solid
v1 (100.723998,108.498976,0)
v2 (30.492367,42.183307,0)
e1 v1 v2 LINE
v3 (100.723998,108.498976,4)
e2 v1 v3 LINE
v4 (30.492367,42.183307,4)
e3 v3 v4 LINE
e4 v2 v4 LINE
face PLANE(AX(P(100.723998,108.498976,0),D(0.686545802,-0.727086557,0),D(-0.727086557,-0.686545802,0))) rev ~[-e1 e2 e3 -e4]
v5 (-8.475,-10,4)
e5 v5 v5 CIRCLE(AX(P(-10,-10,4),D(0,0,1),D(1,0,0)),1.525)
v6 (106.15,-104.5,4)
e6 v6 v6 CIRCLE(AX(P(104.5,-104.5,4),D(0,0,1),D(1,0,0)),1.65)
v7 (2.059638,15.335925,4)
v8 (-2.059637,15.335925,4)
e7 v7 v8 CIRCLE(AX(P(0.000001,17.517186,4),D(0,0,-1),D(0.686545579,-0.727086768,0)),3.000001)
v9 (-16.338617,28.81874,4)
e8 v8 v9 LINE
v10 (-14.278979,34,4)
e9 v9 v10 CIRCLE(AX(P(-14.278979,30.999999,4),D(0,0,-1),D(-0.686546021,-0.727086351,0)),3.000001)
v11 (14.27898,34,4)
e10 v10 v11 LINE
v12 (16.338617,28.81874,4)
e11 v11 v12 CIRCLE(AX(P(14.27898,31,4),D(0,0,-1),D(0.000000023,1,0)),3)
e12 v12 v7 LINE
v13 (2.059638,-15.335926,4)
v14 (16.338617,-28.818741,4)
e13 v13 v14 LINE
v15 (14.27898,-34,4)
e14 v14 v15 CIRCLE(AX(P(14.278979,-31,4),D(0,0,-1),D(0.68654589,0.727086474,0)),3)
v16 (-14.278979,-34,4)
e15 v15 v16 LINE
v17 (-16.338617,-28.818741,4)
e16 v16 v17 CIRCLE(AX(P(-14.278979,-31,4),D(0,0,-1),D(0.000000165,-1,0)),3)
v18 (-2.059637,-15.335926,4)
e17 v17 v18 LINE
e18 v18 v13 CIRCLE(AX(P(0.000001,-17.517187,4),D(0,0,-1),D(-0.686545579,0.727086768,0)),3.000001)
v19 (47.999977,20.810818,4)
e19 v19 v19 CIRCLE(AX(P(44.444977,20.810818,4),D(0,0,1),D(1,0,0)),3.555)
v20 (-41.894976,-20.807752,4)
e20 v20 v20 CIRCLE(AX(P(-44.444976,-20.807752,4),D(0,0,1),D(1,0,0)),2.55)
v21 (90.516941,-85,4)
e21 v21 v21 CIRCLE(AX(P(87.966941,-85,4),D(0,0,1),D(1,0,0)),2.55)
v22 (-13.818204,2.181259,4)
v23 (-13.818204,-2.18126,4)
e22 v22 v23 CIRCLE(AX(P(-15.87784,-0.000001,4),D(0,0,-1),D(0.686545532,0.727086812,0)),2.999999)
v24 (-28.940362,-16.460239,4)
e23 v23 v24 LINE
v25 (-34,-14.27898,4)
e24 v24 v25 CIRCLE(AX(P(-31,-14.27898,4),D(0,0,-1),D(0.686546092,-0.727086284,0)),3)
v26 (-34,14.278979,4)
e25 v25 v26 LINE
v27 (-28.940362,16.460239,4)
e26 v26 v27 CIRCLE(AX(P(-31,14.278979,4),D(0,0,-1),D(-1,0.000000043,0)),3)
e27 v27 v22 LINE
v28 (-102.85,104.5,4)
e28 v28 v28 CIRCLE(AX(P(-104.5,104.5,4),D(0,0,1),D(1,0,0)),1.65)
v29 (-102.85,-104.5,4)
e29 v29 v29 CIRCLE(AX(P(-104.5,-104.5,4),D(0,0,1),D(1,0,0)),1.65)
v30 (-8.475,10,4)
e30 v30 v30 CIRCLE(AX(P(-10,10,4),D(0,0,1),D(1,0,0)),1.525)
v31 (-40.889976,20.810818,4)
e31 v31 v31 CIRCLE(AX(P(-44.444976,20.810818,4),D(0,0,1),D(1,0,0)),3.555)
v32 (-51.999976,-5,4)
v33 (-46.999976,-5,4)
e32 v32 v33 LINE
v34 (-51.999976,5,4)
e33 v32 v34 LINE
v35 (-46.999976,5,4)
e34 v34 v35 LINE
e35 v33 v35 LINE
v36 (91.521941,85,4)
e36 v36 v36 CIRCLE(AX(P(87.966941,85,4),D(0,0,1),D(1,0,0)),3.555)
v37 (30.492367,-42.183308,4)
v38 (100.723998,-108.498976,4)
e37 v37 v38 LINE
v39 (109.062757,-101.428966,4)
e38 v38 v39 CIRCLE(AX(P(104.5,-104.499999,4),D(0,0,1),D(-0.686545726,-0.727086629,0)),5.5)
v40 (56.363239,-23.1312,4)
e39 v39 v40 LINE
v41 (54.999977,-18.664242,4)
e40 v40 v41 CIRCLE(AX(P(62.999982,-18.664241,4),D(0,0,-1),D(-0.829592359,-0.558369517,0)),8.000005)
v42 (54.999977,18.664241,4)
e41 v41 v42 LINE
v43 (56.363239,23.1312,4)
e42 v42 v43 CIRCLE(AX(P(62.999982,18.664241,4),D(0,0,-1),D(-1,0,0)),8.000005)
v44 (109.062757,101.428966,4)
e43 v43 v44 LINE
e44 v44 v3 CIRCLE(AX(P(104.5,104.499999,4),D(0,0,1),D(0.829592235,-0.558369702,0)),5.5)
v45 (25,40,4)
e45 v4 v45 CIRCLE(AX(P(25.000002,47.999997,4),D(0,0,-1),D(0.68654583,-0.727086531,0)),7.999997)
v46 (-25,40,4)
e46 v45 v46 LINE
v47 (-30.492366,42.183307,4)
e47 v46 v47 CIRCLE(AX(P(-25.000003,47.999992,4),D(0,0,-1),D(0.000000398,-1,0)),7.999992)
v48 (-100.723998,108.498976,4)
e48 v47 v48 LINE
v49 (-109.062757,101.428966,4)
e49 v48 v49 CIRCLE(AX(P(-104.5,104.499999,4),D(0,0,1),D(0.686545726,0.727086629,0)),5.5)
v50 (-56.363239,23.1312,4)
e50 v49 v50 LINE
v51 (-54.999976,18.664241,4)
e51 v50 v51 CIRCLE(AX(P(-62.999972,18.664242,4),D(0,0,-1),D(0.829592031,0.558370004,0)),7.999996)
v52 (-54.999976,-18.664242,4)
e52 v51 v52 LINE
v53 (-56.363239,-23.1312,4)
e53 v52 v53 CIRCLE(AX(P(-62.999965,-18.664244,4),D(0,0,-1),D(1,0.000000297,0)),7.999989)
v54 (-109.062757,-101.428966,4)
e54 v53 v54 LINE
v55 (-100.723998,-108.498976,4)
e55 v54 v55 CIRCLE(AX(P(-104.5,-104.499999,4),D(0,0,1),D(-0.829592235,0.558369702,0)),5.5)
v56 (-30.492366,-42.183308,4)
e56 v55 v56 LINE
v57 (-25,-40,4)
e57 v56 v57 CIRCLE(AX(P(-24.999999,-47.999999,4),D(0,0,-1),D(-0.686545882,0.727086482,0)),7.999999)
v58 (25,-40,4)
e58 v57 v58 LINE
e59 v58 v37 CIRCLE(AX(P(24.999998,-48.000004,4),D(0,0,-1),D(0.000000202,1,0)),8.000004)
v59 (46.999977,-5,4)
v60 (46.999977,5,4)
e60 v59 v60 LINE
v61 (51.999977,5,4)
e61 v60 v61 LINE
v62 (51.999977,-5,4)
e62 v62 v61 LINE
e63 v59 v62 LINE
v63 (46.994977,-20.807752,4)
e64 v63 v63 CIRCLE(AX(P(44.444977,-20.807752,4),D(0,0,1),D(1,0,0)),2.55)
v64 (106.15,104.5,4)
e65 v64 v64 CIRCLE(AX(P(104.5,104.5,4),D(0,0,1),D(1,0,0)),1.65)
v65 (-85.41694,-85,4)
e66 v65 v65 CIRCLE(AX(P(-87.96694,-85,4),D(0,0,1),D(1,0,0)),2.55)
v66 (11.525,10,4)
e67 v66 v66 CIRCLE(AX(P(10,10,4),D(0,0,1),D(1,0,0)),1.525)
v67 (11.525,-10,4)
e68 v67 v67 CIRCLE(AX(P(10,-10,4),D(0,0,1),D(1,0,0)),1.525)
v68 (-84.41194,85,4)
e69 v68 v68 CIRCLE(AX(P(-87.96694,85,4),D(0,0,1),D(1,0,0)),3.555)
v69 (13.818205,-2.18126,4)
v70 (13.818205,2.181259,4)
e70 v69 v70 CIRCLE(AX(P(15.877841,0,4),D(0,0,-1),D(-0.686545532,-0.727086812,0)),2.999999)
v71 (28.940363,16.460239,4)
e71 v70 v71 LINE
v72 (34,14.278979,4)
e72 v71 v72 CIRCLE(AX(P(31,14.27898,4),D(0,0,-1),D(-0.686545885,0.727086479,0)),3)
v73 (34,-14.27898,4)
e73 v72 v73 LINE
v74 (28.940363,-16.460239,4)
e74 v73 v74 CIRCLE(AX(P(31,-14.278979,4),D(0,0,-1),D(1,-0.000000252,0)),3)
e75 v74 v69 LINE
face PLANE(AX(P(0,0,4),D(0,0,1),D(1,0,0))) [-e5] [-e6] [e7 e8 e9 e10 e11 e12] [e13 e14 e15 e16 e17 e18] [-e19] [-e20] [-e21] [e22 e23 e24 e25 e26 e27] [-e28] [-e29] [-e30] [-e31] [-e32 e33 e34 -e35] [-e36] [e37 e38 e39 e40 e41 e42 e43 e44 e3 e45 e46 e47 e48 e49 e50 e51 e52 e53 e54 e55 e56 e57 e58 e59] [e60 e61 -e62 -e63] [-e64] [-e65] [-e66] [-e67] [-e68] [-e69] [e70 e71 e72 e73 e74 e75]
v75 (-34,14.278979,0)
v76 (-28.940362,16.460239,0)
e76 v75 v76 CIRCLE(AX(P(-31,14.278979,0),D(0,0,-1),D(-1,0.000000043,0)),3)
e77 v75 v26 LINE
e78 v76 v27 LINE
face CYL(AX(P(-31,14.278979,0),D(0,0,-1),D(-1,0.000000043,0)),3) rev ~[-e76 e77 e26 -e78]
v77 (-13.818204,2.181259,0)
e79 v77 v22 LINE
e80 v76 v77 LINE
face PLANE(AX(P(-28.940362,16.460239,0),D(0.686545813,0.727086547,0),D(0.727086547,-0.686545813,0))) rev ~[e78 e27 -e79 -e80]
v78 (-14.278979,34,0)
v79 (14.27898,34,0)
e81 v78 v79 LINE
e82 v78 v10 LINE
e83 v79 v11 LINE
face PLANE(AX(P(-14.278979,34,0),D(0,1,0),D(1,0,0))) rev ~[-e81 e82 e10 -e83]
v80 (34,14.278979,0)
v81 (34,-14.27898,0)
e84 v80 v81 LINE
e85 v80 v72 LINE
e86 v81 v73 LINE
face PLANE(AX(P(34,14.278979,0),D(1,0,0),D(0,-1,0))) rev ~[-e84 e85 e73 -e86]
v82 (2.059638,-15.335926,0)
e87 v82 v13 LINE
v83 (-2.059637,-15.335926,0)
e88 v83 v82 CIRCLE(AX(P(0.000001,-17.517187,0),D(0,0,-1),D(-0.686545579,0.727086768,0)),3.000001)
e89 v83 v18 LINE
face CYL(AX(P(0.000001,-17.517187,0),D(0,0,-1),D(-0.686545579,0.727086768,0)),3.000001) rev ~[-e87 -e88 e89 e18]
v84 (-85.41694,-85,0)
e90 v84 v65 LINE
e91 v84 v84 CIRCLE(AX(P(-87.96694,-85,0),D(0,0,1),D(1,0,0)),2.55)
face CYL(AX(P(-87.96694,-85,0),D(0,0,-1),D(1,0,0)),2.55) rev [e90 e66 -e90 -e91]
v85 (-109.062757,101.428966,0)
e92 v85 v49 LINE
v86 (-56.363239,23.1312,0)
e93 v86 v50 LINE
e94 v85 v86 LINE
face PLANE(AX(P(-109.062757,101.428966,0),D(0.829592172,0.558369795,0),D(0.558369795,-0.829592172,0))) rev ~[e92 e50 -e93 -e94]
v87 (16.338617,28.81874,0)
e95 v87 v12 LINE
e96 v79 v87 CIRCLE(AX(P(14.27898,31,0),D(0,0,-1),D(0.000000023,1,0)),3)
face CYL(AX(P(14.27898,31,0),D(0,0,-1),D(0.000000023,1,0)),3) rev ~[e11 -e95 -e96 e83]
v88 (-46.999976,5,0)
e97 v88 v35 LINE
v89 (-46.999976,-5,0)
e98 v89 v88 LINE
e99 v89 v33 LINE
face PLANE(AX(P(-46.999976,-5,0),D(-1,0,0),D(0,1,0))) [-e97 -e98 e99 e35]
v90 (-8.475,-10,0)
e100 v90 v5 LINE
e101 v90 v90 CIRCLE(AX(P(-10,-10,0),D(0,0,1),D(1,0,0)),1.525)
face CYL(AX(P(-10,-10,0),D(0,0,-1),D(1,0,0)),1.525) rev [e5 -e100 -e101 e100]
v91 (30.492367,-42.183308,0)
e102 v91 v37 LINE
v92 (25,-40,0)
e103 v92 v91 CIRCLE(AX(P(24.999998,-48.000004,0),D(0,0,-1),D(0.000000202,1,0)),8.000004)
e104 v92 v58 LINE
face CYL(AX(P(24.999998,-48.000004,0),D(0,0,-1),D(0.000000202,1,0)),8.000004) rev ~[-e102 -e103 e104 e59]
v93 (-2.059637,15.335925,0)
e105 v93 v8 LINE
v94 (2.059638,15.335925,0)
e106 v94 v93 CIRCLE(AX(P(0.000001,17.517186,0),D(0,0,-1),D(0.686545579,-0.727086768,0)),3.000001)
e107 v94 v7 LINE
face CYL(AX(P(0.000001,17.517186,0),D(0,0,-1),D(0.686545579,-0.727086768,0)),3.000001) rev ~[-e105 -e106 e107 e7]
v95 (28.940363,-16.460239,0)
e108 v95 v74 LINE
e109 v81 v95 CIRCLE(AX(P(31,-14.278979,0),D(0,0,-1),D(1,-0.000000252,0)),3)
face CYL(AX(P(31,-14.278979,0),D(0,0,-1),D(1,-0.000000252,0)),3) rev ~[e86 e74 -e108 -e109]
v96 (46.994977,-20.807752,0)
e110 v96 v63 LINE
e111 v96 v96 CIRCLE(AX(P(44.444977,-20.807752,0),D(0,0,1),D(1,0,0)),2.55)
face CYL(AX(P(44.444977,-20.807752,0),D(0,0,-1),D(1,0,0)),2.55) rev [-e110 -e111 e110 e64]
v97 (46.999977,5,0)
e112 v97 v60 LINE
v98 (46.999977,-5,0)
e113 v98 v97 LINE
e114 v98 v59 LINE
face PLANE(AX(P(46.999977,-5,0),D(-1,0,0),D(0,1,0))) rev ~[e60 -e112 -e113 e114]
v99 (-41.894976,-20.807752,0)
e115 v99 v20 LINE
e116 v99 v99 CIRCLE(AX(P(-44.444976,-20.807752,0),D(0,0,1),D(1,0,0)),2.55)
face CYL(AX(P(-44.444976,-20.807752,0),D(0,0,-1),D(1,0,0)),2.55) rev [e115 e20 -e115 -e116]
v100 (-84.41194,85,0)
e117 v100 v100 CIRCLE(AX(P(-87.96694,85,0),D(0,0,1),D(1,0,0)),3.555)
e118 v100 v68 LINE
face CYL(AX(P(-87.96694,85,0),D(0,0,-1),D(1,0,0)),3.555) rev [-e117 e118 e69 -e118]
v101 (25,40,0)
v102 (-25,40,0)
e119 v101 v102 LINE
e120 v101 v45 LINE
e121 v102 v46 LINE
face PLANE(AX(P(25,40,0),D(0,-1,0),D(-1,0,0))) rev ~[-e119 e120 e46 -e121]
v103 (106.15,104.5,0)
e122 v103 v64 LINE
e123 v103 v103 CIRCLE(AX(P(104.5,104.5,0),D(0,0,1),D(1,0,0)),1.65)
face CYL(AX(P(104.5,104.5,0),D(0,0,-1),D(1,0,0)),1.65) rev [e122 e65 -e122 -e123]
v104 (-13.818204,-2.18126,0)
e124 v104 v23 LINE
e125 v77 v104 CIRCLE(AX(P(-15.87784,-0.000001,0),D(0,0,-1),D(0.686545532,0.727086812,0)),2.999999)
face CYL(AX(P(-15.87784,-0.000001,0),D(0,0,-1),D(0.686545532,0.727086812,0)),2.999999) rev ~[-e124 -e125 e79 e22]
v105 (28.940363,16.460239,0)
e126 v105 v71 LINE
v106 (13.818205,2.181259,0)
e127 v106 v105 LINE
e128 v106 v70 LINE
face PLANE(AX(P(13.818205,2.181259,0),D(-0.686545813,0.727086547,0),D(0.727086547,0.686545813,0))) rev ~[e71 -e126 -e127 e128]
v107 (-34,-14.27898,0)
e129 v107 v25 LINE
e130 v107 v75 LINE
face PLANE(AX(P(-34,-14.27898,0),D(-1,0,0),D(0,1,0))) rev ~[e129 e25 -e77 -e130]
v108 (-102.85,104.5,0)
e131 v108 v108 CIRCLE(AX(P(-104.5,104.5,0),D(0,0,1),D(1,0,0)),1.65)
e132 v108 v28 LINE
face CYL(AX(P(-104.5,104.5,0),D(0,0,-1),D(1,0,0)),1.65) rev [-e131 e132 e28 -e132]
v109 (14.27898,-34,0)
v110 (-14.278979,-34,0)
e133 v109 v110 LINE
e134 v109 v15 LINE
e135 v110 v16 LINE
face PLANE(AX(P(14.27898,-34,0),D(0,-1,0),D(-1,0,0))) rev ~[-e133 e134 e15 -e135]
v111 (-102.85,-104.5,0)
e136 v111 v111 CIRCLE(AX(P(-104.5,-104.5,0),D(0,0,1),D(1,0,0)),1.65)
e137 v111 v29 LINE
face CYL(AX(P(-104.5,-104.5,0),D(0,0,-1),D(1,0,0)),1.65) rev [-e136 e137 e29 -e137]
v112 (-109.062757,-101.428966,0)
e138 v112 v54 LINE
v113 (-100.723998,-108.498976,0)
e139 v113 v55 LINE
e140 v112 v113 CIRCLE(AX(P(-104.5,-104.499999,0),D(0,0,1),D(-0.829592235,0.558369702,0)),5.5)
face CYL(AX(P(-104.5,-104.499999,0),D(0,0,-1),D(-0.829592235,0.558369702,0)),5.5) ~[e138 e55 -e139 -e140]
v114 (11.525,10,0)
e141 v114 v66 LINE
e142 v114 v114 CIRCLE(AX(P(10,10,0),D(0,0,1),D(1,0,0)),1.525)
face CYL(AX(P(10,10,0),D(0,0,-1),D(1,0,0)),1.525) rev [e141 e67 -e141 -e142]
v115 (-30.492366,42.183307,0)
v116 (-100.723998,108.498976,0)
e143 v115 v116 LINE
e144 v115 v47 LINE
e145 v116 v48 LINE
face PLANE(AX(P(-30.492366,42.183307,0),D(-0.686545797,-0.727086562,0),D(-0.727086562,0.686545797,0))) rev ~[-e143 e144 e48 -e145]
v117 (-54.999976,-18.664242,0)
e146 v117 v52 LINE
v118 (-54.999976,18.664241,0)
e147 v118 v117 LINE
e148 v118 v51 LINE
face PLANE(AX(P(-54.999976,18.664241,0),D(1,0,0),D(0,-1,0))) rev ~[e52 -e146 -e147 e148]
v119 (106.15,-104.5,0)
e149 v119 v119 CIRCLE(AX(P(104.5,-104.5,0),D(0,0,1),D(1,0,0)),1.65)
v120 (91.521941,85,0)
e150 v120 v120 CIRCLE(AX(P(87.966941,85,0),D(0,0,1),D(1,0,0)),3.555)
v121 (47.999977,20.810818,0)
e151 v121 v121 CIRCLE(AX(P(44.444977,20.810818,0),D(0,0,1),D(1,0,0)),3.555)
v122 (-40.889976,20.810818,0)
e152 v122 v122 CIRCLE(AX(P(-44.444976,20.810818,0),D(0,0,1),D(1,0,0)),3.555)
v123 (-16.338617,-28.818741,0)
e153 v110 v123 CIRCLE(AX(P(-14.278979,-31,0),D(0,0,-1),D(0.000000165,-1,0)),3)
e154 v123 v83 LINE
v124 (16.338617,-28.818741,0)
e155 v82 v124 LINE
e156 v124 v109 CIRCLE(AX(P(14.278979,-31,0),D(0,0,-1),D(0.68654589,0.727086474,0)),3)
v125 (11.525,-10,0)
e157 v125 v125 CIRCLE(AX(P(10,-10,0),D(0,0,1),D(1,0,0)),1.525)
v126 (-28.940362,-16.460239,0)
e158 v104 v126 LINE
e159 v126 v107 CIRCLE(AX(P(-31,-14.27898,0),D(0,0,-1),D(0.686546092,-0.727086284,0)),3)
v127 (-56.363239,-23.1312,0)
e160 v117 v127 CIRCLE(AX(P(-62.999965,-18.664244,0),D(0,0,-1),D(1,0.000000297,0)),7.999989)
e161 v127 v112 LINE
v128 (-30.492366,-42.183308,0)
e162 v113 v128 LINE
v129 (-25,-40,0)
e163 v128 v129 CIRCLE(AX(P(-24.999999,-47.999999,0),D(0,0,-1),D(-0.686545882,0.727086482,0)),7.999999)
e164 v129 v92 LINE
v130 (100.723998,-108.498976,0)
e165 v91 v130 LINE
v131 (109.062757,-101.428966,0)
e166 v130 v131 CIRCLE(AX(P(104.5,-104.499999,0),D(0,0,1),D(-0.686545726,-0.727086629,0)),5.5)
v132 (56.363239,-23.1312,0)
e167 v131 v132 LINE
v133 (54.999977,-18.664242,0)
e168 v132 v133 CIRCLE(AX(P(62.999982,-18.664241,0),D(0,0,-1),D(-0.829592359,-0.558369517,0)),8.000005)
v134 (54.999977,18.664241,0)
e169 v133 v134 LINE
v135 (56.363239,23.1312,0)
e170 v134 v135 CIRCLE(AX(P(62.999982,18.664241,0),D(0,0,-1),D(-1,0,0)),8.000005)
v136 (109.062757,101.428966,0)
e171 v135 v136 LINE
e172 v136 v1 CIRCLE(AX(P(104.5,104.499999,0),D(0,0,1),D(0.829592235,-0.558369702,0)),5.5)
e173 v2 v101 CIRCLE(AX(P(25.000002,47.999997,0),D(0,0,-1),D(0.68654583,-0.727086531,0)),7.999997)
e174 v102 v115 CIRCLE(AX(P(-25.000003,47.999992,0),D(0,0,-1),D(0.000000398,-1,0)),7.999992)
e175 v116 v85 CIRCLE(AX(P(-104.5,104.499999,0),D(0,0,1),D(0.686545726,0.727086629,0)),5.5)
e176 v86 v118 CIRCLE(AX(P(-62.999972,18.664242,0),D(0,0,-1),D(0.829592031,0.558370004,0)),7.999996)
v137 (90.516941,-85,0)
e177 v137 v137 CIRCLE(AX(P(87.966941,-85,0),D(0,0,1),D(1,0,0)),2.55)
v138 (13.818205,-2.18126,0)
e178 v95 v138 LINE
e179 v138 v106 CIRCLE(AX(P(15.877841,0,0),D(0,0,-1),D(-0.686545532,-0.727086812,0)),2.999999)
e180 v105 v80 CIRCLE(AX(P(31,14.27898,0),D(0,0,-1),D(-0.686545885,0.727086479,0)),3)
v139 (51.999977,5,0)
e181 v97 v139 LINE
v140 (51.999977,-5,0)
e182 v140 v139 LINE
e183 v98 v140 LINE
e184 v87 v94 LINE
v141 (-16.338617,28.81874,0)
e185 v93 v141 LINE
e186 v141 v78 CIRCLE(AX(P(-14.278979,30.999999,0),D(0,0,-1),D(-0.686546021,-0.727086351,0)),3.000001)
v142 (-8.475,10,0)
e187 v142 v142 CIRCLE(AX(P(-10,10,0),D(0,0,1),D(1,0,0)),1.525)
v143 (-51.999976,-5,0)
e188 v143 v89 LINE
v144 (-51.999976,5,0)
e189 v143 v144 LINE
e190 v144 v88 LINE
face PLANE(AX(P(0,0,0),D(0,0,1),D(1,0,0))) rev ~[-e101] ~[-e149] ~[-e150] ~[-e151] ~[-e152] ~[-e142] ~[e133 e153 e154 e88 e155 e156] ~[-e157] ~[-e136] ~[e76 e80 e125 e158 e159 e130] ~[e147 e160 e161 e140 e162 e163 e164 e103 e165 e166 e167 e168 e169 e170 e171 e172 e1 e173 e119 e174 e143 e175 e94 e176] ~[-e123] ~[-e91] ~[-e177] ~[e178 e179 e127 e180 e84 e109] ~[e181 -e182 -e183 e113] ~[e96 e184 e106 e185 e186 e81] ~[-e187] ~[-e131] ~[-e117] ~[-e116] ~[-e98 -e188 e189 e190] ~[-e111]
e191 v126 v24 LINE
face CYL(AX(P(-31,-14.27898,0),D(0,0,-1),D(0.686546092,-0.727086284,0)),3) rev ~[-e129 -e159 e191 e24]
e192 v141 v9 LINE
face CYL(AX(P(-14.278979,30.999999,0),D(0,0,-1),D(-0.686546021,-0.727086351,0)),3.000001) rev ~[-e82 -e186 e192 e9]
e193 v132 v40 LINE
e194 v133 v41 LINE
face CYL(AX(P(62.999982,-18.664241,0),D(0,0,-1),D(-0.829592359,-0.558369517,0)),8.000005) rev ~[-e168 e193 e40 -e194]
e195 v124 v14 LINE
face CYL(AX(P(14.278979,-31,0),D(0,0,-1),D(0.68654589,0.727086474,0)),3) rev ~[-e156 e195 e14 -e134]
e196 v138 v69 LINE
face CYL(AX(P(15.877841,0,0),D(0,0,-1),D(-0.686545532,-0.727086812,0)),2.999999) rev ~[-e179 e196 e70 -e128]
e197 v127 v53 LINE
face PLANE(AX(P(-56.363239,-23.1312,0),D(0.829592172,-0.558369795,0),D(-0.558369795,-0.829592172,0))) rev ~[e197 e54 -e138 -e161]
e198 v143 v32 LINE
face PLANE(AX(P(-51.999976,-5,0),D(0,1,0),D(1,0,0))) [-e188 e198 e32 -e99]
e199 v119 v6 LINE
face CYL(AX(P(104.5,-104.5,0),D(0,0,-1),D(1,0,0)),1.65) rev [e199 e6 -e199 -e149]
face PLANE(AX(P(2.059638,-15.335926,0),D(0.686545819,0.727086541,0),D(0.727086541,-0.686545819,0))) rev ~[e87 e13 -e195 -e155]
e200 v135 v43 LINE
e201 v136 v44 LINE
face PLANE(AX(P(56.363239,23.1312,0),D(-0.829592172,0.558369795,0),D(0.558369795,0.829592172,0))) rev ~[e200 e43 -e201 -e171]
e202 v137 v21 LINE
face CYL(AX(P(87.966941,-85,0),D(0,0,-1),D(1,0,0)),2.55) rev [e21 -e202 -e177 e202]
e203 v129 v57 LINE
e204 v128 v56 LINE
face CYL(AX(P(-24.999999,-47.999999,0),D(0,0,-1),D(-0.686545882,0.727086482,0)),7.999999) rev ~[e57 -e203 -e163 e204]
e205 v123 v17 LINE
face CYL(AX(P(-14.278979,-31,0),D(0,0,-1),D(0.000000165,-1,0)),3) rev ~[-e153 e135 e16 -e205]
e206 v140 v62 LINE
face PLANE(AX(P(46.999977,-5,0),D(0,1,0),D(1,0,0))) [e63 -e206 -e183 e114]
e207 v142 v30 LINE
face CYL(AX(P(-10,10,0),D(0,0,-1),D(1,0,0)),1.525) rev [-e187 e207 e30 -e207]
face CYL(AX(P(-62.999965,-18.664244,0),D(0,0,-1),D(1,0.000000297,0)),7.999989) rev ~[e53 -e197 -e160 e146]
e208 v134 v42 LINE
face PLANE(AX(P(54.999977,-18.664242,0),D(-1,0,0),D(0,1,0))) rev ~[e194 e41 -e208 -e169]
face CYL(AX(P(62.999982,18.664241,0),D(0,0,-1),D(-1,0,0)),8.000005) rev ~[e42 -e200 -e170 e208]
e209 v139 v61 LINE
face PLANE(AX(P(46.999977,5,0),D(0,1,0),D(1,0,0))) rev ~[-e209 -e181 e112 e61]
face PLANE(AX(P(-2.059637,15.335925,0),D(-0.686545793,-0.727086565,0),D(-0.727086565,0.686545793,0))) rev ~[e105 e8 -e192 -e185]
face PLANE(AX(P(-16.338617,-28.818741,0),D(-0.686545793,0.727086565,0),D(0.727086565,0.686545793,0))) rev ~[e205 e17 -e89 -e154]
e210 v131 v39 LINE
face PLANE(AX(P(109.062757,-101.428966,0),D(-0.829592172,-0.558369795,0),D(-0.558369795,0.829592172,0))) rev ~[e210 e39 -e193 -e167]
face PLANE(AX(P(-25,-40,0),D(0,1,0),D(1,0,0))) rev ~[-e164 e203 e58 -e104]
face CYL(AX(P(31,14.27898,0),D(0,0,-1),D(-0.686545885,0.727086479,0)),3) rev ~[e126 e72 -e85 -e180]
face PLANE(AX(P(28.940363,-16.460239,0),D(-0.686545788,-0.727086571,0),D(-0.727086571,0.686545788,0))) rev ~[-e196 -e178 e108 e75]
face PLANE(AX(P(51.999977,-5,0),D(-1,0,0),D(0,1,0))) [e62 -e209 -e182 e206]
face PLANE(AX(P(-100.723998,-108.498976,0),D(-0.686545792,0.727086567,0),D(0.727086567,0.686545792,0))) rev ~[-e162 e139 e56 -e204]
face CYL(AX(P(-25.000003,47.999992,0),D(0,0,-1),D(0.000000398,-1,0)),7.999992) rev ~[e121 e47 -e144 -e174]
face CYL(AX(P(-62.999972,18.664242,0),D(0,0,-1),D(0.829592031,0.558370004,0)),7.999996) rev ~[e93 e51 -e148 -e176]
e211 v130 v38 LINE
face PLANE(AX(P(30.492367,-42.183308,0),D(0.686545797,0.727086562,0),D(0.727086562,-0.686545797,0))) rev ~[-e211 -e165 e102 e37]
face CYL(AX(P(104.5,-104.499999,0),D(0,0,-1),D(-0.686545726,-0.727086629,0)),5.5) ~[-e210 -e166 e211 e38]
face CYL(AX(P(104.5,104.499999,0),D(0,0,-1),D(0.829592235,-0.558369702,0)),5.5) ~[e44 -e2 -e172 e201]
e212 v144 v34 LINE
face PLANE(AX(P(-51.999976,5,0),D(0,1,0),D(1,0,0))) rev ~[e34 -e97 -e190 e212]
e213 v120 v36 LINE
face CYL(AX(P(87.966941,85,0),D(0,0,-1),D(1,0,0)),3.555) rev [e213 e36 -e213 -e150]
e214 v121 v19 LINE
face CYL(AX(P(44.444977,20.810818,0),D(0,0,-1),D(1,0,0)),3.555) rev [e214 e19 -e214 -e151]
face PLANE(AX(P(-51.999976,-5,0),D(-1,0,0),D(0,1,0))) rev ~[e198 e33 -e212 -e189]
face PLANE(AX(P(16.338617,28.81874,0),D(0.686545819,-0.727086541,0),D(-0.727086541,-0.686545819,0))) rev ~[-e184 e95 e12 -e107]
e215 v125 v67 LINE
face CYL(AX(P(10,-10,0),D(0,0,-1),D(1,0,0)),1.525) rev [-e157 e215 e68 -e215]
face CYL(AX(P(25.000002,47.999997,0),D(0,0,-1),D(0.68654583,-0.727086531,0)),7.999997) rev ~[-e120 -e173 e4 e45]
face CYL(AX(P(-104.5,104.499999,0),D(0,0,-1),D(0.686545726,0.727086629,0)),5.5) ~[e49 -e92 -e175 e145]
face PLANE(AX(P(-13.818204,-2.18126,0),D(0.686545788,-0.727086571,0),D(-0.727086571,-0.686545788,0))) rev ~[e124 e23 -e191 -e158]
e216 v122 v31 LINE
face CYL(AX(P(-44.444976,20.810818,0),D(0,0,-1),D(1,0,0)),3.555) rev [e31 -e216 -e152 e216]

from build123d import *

# Parameters (mm, degrees)
F0_R     = 1.65
F0_R_2   = 2.55
F0_R_3   = 1.525
F0_W     = 5
F0_H     = 10
F0_R_4   = 3.555
F1_DEPTH = 4


with BuildPart() as f1:
    # F0 (on Top) → F1 (new body)
    with BuildSketch(Plane.XY):
        with BuildLine():
            ThreePointArc((-56.363239, 23.1312), (-55.348378, 20.999418), (-54.999976, 18.664241))
            Line((-54.999976, 18.664241), (-54.999976, -18.664242))
            ThreePointArc((-54.999976, -18.664242), (-55.348378, -20.999419), (-56.363239, -23.1312))
            Line((-56.363239, -23.1312), (-109.062757, -101.428966))
            ThreePointArc((-109.062757, -101.428966), (-108.056825, -108.695115), (-100.723998, -108.498976))
            Line((-100.723998, -108.498976), (-30.492366, -42.183308))
            ThreePointArc((-30.492366, -42.183308), (-27.955204, -40.565838), (-25, -40))
            Line((-25, -40), (25, -40))
            ThreePointArc((25, -40), (27.955204, -40.565838), (30.492367, -42.183308))
            Line((30.492367, -42.183308), (100.723998, -108.498976))
            ThreePointArc((100.723998, -108.498976), (108.056825, -108.695115), (109.062757, -101.428966))
            Line((109.062757, -101.428966), (56.363239, -23.1312))
            ThreePointArc((56.363239, -23.1312), (55.348379, -20.999418), (54.999977, -18.664242))
            Line((54.999977, -18.664242), (54.999977, 18.664241))
            ThreePointArc((54.999977, 18.664241), (55.348379, 20.999418), (56.363239, 23.1312))
            Line((56.363239, 23.1312), (109.062757, 101.428966))
            ThreePointArc((109.062757, 101.428966), (108.056825, 108.695115), (100.723998, 108.498976))
            Line((100.723998, 108.498976), (30.492367, 42.183307))
            ThreePointArc((30.492367, 42.183307), (27.955204, 40.565837), (25, 40))
            Line((25, 40), (-25, 40))
            ThreePointArc((-25, 40), (-27.955204, 40.565837), (-30.492366, 42.183307))
            Line((-30.492366, 42.183307), (-100.723998, 108.498976))
            ThreePointArc((-100.723998, 108.498976), (-108.056825, 108.695115), (-109.062757, 101.428966))
            Line((-109.062757, 101.428966), (-56.363239, 23.1312))
        make_face()
        with Locations((-104.5, -104.5)):
            Circle(F0_R, mode=Mode.SUBTRACT)
        with Locations((-87.96694, -85)):
            Circle(F0_R_2, mode=Mode.SUBTRACT)
        with Locations((-44.444976, -20.807752)):
            Circle(F0_R_2, mode=Mode.SUBTRACT)
        with BuildLine():
            ThreePointArc((-34, 14.278979), (-32.187663, 17.033876), (-28.940362, 16.460239))
            Line((-28.940362, 16.460239), (-13.818204, 2.181259))
            ThreePointArc((-13.818204, 2.181259), (-12.877841, -1e-06), (-13.818204, -2.18126))
            Line((-13.818204, -2.18126), (-28.940362, -16.460239))
            ThreePointArc((-28.940362, -16.460239), (-32.187663, -17.033877), (-34, -14.27898))
            Line((-34, -14.27898), (-34, 14.278979))
        make_face(mode=Mode.SUBTRACT)
        with Locations((-10, -10)):
            Circle(F0_R_3, mode=Mode.SUBTRACT)
        with Locations((104.5, -104.5)):
            Circle(F0_R, mode=Mode.SUBTRACT)
        with Locations((87.966941, -85)):
            Circle(F0_R_2, mode=Mode.SUBTRACT)
        with BuildLine():
            ThreePointArc((-14.278979, -34), (-17.06679, -32.108202), (-16.338617, -28.818741))
            Line((-16.338617, -28.818741), (-2.059637, -15.335926))
            ThreePointArc((-2.059637, -15.335926), (0, -14.517186), (2.059638, -15.335926))
            Line((2.059638, -15.335926), (16.338617, -28.818741))
            ThreePointArc((16.338617, -28.818741), (17.06679, -32.108202), (14.27898, -34))
            Line((14.27898, -34), (-14.278979, -34))
        make_face(mode=Mode.SUBTRACT)
        with Locations((10, -10)):
            Circle(F0_R_3, mode=Mode.SUBTRACT)
        with Locations((44.444977, -20.807752)):
            Circle(F0_R_2, mode=Mode.SUBTRACT)
        with Locations((-49.499976, 0)):
            Rectangle(F0_W, F0_H, mode=Mode.SUBTRACT)
        with Locations((-44.444976, 20.810818)):
            Circle(F0_R_4, mode=Mode.SUBTRACT)
        with Locations((-10, 10)):
            Circle(F0_R_3, mode=Mode.SUBTRACT)
        with Locations((-87.96694, 85)):
            Circle(F0_R_4, mode=Mode.SUBTRACT)
        with Locations((-104.5, 104.5)):
            Circle(F0_R, mode=Mode.SUBTRACT)
        with Locations((10, 10)):
            Circle(F0_R_3, mode=Mode.SUBTRACT)
        with BuildLine():
            ThreePointArc((28.940363, 16.460239), (32.187664, 17.033876), (34, 14.278979))
            Line((34, 14.278979), (34, -14.27898))
            ThreePointArc((34, -14.27898), (32.187663, -17.033876), (28.940363, -16.460239))
            Line((28.940363, -16.460239), (13.818205, -2.18126))
            ThreePointArc((13.818205, -2.18126), (12.877842, 0), (13.818205, 2.181259))
            Line((13.818205, 2.181259), (28.940363, 16.460239))
        make_face(mode=Mode.SUBTRACT)
        with BuildLine():
            ThreePointArc((14.27898, 34), (17.066791, 32.108201), (16.338617, 28.81874))
            Line((16.338617, 28.81874), (2.059638, 15.335925))
            ThreePointArc((2.059638, 15.335925), (0, 14.517185), (-2.059637, 15.335925))
            Line((-2.059637, 15.335925), (-16.338617, 28.81874))
            ThreePointArc((-16.338617, 28.81874), (-17.06679, 32.108201), (-14.278979, 34))
            Line((-14.278979, 34), (14.27898, 34))
        make_face(mode=Mode.SUBTRACT)
        with Locations((49.499977, 0)):
            Rectangle(F0_W, F0_H, mode=Mode.SUBTRACT)
        with Locations((44.444977, 20.810818)):
            Circle(F0_R_4, mode=Mode.SUBTRACT)
        with Locations((87.966941, 85)):
            Circle(F0_R_4, mode=Mode.SUBTRACT)
        with Locations((104.5, 104.5)):
            Circle(F0_R, mode=Mode.SUBTRACT)
    extrude(amount=F1_DEPTH)


solid = f1.part
